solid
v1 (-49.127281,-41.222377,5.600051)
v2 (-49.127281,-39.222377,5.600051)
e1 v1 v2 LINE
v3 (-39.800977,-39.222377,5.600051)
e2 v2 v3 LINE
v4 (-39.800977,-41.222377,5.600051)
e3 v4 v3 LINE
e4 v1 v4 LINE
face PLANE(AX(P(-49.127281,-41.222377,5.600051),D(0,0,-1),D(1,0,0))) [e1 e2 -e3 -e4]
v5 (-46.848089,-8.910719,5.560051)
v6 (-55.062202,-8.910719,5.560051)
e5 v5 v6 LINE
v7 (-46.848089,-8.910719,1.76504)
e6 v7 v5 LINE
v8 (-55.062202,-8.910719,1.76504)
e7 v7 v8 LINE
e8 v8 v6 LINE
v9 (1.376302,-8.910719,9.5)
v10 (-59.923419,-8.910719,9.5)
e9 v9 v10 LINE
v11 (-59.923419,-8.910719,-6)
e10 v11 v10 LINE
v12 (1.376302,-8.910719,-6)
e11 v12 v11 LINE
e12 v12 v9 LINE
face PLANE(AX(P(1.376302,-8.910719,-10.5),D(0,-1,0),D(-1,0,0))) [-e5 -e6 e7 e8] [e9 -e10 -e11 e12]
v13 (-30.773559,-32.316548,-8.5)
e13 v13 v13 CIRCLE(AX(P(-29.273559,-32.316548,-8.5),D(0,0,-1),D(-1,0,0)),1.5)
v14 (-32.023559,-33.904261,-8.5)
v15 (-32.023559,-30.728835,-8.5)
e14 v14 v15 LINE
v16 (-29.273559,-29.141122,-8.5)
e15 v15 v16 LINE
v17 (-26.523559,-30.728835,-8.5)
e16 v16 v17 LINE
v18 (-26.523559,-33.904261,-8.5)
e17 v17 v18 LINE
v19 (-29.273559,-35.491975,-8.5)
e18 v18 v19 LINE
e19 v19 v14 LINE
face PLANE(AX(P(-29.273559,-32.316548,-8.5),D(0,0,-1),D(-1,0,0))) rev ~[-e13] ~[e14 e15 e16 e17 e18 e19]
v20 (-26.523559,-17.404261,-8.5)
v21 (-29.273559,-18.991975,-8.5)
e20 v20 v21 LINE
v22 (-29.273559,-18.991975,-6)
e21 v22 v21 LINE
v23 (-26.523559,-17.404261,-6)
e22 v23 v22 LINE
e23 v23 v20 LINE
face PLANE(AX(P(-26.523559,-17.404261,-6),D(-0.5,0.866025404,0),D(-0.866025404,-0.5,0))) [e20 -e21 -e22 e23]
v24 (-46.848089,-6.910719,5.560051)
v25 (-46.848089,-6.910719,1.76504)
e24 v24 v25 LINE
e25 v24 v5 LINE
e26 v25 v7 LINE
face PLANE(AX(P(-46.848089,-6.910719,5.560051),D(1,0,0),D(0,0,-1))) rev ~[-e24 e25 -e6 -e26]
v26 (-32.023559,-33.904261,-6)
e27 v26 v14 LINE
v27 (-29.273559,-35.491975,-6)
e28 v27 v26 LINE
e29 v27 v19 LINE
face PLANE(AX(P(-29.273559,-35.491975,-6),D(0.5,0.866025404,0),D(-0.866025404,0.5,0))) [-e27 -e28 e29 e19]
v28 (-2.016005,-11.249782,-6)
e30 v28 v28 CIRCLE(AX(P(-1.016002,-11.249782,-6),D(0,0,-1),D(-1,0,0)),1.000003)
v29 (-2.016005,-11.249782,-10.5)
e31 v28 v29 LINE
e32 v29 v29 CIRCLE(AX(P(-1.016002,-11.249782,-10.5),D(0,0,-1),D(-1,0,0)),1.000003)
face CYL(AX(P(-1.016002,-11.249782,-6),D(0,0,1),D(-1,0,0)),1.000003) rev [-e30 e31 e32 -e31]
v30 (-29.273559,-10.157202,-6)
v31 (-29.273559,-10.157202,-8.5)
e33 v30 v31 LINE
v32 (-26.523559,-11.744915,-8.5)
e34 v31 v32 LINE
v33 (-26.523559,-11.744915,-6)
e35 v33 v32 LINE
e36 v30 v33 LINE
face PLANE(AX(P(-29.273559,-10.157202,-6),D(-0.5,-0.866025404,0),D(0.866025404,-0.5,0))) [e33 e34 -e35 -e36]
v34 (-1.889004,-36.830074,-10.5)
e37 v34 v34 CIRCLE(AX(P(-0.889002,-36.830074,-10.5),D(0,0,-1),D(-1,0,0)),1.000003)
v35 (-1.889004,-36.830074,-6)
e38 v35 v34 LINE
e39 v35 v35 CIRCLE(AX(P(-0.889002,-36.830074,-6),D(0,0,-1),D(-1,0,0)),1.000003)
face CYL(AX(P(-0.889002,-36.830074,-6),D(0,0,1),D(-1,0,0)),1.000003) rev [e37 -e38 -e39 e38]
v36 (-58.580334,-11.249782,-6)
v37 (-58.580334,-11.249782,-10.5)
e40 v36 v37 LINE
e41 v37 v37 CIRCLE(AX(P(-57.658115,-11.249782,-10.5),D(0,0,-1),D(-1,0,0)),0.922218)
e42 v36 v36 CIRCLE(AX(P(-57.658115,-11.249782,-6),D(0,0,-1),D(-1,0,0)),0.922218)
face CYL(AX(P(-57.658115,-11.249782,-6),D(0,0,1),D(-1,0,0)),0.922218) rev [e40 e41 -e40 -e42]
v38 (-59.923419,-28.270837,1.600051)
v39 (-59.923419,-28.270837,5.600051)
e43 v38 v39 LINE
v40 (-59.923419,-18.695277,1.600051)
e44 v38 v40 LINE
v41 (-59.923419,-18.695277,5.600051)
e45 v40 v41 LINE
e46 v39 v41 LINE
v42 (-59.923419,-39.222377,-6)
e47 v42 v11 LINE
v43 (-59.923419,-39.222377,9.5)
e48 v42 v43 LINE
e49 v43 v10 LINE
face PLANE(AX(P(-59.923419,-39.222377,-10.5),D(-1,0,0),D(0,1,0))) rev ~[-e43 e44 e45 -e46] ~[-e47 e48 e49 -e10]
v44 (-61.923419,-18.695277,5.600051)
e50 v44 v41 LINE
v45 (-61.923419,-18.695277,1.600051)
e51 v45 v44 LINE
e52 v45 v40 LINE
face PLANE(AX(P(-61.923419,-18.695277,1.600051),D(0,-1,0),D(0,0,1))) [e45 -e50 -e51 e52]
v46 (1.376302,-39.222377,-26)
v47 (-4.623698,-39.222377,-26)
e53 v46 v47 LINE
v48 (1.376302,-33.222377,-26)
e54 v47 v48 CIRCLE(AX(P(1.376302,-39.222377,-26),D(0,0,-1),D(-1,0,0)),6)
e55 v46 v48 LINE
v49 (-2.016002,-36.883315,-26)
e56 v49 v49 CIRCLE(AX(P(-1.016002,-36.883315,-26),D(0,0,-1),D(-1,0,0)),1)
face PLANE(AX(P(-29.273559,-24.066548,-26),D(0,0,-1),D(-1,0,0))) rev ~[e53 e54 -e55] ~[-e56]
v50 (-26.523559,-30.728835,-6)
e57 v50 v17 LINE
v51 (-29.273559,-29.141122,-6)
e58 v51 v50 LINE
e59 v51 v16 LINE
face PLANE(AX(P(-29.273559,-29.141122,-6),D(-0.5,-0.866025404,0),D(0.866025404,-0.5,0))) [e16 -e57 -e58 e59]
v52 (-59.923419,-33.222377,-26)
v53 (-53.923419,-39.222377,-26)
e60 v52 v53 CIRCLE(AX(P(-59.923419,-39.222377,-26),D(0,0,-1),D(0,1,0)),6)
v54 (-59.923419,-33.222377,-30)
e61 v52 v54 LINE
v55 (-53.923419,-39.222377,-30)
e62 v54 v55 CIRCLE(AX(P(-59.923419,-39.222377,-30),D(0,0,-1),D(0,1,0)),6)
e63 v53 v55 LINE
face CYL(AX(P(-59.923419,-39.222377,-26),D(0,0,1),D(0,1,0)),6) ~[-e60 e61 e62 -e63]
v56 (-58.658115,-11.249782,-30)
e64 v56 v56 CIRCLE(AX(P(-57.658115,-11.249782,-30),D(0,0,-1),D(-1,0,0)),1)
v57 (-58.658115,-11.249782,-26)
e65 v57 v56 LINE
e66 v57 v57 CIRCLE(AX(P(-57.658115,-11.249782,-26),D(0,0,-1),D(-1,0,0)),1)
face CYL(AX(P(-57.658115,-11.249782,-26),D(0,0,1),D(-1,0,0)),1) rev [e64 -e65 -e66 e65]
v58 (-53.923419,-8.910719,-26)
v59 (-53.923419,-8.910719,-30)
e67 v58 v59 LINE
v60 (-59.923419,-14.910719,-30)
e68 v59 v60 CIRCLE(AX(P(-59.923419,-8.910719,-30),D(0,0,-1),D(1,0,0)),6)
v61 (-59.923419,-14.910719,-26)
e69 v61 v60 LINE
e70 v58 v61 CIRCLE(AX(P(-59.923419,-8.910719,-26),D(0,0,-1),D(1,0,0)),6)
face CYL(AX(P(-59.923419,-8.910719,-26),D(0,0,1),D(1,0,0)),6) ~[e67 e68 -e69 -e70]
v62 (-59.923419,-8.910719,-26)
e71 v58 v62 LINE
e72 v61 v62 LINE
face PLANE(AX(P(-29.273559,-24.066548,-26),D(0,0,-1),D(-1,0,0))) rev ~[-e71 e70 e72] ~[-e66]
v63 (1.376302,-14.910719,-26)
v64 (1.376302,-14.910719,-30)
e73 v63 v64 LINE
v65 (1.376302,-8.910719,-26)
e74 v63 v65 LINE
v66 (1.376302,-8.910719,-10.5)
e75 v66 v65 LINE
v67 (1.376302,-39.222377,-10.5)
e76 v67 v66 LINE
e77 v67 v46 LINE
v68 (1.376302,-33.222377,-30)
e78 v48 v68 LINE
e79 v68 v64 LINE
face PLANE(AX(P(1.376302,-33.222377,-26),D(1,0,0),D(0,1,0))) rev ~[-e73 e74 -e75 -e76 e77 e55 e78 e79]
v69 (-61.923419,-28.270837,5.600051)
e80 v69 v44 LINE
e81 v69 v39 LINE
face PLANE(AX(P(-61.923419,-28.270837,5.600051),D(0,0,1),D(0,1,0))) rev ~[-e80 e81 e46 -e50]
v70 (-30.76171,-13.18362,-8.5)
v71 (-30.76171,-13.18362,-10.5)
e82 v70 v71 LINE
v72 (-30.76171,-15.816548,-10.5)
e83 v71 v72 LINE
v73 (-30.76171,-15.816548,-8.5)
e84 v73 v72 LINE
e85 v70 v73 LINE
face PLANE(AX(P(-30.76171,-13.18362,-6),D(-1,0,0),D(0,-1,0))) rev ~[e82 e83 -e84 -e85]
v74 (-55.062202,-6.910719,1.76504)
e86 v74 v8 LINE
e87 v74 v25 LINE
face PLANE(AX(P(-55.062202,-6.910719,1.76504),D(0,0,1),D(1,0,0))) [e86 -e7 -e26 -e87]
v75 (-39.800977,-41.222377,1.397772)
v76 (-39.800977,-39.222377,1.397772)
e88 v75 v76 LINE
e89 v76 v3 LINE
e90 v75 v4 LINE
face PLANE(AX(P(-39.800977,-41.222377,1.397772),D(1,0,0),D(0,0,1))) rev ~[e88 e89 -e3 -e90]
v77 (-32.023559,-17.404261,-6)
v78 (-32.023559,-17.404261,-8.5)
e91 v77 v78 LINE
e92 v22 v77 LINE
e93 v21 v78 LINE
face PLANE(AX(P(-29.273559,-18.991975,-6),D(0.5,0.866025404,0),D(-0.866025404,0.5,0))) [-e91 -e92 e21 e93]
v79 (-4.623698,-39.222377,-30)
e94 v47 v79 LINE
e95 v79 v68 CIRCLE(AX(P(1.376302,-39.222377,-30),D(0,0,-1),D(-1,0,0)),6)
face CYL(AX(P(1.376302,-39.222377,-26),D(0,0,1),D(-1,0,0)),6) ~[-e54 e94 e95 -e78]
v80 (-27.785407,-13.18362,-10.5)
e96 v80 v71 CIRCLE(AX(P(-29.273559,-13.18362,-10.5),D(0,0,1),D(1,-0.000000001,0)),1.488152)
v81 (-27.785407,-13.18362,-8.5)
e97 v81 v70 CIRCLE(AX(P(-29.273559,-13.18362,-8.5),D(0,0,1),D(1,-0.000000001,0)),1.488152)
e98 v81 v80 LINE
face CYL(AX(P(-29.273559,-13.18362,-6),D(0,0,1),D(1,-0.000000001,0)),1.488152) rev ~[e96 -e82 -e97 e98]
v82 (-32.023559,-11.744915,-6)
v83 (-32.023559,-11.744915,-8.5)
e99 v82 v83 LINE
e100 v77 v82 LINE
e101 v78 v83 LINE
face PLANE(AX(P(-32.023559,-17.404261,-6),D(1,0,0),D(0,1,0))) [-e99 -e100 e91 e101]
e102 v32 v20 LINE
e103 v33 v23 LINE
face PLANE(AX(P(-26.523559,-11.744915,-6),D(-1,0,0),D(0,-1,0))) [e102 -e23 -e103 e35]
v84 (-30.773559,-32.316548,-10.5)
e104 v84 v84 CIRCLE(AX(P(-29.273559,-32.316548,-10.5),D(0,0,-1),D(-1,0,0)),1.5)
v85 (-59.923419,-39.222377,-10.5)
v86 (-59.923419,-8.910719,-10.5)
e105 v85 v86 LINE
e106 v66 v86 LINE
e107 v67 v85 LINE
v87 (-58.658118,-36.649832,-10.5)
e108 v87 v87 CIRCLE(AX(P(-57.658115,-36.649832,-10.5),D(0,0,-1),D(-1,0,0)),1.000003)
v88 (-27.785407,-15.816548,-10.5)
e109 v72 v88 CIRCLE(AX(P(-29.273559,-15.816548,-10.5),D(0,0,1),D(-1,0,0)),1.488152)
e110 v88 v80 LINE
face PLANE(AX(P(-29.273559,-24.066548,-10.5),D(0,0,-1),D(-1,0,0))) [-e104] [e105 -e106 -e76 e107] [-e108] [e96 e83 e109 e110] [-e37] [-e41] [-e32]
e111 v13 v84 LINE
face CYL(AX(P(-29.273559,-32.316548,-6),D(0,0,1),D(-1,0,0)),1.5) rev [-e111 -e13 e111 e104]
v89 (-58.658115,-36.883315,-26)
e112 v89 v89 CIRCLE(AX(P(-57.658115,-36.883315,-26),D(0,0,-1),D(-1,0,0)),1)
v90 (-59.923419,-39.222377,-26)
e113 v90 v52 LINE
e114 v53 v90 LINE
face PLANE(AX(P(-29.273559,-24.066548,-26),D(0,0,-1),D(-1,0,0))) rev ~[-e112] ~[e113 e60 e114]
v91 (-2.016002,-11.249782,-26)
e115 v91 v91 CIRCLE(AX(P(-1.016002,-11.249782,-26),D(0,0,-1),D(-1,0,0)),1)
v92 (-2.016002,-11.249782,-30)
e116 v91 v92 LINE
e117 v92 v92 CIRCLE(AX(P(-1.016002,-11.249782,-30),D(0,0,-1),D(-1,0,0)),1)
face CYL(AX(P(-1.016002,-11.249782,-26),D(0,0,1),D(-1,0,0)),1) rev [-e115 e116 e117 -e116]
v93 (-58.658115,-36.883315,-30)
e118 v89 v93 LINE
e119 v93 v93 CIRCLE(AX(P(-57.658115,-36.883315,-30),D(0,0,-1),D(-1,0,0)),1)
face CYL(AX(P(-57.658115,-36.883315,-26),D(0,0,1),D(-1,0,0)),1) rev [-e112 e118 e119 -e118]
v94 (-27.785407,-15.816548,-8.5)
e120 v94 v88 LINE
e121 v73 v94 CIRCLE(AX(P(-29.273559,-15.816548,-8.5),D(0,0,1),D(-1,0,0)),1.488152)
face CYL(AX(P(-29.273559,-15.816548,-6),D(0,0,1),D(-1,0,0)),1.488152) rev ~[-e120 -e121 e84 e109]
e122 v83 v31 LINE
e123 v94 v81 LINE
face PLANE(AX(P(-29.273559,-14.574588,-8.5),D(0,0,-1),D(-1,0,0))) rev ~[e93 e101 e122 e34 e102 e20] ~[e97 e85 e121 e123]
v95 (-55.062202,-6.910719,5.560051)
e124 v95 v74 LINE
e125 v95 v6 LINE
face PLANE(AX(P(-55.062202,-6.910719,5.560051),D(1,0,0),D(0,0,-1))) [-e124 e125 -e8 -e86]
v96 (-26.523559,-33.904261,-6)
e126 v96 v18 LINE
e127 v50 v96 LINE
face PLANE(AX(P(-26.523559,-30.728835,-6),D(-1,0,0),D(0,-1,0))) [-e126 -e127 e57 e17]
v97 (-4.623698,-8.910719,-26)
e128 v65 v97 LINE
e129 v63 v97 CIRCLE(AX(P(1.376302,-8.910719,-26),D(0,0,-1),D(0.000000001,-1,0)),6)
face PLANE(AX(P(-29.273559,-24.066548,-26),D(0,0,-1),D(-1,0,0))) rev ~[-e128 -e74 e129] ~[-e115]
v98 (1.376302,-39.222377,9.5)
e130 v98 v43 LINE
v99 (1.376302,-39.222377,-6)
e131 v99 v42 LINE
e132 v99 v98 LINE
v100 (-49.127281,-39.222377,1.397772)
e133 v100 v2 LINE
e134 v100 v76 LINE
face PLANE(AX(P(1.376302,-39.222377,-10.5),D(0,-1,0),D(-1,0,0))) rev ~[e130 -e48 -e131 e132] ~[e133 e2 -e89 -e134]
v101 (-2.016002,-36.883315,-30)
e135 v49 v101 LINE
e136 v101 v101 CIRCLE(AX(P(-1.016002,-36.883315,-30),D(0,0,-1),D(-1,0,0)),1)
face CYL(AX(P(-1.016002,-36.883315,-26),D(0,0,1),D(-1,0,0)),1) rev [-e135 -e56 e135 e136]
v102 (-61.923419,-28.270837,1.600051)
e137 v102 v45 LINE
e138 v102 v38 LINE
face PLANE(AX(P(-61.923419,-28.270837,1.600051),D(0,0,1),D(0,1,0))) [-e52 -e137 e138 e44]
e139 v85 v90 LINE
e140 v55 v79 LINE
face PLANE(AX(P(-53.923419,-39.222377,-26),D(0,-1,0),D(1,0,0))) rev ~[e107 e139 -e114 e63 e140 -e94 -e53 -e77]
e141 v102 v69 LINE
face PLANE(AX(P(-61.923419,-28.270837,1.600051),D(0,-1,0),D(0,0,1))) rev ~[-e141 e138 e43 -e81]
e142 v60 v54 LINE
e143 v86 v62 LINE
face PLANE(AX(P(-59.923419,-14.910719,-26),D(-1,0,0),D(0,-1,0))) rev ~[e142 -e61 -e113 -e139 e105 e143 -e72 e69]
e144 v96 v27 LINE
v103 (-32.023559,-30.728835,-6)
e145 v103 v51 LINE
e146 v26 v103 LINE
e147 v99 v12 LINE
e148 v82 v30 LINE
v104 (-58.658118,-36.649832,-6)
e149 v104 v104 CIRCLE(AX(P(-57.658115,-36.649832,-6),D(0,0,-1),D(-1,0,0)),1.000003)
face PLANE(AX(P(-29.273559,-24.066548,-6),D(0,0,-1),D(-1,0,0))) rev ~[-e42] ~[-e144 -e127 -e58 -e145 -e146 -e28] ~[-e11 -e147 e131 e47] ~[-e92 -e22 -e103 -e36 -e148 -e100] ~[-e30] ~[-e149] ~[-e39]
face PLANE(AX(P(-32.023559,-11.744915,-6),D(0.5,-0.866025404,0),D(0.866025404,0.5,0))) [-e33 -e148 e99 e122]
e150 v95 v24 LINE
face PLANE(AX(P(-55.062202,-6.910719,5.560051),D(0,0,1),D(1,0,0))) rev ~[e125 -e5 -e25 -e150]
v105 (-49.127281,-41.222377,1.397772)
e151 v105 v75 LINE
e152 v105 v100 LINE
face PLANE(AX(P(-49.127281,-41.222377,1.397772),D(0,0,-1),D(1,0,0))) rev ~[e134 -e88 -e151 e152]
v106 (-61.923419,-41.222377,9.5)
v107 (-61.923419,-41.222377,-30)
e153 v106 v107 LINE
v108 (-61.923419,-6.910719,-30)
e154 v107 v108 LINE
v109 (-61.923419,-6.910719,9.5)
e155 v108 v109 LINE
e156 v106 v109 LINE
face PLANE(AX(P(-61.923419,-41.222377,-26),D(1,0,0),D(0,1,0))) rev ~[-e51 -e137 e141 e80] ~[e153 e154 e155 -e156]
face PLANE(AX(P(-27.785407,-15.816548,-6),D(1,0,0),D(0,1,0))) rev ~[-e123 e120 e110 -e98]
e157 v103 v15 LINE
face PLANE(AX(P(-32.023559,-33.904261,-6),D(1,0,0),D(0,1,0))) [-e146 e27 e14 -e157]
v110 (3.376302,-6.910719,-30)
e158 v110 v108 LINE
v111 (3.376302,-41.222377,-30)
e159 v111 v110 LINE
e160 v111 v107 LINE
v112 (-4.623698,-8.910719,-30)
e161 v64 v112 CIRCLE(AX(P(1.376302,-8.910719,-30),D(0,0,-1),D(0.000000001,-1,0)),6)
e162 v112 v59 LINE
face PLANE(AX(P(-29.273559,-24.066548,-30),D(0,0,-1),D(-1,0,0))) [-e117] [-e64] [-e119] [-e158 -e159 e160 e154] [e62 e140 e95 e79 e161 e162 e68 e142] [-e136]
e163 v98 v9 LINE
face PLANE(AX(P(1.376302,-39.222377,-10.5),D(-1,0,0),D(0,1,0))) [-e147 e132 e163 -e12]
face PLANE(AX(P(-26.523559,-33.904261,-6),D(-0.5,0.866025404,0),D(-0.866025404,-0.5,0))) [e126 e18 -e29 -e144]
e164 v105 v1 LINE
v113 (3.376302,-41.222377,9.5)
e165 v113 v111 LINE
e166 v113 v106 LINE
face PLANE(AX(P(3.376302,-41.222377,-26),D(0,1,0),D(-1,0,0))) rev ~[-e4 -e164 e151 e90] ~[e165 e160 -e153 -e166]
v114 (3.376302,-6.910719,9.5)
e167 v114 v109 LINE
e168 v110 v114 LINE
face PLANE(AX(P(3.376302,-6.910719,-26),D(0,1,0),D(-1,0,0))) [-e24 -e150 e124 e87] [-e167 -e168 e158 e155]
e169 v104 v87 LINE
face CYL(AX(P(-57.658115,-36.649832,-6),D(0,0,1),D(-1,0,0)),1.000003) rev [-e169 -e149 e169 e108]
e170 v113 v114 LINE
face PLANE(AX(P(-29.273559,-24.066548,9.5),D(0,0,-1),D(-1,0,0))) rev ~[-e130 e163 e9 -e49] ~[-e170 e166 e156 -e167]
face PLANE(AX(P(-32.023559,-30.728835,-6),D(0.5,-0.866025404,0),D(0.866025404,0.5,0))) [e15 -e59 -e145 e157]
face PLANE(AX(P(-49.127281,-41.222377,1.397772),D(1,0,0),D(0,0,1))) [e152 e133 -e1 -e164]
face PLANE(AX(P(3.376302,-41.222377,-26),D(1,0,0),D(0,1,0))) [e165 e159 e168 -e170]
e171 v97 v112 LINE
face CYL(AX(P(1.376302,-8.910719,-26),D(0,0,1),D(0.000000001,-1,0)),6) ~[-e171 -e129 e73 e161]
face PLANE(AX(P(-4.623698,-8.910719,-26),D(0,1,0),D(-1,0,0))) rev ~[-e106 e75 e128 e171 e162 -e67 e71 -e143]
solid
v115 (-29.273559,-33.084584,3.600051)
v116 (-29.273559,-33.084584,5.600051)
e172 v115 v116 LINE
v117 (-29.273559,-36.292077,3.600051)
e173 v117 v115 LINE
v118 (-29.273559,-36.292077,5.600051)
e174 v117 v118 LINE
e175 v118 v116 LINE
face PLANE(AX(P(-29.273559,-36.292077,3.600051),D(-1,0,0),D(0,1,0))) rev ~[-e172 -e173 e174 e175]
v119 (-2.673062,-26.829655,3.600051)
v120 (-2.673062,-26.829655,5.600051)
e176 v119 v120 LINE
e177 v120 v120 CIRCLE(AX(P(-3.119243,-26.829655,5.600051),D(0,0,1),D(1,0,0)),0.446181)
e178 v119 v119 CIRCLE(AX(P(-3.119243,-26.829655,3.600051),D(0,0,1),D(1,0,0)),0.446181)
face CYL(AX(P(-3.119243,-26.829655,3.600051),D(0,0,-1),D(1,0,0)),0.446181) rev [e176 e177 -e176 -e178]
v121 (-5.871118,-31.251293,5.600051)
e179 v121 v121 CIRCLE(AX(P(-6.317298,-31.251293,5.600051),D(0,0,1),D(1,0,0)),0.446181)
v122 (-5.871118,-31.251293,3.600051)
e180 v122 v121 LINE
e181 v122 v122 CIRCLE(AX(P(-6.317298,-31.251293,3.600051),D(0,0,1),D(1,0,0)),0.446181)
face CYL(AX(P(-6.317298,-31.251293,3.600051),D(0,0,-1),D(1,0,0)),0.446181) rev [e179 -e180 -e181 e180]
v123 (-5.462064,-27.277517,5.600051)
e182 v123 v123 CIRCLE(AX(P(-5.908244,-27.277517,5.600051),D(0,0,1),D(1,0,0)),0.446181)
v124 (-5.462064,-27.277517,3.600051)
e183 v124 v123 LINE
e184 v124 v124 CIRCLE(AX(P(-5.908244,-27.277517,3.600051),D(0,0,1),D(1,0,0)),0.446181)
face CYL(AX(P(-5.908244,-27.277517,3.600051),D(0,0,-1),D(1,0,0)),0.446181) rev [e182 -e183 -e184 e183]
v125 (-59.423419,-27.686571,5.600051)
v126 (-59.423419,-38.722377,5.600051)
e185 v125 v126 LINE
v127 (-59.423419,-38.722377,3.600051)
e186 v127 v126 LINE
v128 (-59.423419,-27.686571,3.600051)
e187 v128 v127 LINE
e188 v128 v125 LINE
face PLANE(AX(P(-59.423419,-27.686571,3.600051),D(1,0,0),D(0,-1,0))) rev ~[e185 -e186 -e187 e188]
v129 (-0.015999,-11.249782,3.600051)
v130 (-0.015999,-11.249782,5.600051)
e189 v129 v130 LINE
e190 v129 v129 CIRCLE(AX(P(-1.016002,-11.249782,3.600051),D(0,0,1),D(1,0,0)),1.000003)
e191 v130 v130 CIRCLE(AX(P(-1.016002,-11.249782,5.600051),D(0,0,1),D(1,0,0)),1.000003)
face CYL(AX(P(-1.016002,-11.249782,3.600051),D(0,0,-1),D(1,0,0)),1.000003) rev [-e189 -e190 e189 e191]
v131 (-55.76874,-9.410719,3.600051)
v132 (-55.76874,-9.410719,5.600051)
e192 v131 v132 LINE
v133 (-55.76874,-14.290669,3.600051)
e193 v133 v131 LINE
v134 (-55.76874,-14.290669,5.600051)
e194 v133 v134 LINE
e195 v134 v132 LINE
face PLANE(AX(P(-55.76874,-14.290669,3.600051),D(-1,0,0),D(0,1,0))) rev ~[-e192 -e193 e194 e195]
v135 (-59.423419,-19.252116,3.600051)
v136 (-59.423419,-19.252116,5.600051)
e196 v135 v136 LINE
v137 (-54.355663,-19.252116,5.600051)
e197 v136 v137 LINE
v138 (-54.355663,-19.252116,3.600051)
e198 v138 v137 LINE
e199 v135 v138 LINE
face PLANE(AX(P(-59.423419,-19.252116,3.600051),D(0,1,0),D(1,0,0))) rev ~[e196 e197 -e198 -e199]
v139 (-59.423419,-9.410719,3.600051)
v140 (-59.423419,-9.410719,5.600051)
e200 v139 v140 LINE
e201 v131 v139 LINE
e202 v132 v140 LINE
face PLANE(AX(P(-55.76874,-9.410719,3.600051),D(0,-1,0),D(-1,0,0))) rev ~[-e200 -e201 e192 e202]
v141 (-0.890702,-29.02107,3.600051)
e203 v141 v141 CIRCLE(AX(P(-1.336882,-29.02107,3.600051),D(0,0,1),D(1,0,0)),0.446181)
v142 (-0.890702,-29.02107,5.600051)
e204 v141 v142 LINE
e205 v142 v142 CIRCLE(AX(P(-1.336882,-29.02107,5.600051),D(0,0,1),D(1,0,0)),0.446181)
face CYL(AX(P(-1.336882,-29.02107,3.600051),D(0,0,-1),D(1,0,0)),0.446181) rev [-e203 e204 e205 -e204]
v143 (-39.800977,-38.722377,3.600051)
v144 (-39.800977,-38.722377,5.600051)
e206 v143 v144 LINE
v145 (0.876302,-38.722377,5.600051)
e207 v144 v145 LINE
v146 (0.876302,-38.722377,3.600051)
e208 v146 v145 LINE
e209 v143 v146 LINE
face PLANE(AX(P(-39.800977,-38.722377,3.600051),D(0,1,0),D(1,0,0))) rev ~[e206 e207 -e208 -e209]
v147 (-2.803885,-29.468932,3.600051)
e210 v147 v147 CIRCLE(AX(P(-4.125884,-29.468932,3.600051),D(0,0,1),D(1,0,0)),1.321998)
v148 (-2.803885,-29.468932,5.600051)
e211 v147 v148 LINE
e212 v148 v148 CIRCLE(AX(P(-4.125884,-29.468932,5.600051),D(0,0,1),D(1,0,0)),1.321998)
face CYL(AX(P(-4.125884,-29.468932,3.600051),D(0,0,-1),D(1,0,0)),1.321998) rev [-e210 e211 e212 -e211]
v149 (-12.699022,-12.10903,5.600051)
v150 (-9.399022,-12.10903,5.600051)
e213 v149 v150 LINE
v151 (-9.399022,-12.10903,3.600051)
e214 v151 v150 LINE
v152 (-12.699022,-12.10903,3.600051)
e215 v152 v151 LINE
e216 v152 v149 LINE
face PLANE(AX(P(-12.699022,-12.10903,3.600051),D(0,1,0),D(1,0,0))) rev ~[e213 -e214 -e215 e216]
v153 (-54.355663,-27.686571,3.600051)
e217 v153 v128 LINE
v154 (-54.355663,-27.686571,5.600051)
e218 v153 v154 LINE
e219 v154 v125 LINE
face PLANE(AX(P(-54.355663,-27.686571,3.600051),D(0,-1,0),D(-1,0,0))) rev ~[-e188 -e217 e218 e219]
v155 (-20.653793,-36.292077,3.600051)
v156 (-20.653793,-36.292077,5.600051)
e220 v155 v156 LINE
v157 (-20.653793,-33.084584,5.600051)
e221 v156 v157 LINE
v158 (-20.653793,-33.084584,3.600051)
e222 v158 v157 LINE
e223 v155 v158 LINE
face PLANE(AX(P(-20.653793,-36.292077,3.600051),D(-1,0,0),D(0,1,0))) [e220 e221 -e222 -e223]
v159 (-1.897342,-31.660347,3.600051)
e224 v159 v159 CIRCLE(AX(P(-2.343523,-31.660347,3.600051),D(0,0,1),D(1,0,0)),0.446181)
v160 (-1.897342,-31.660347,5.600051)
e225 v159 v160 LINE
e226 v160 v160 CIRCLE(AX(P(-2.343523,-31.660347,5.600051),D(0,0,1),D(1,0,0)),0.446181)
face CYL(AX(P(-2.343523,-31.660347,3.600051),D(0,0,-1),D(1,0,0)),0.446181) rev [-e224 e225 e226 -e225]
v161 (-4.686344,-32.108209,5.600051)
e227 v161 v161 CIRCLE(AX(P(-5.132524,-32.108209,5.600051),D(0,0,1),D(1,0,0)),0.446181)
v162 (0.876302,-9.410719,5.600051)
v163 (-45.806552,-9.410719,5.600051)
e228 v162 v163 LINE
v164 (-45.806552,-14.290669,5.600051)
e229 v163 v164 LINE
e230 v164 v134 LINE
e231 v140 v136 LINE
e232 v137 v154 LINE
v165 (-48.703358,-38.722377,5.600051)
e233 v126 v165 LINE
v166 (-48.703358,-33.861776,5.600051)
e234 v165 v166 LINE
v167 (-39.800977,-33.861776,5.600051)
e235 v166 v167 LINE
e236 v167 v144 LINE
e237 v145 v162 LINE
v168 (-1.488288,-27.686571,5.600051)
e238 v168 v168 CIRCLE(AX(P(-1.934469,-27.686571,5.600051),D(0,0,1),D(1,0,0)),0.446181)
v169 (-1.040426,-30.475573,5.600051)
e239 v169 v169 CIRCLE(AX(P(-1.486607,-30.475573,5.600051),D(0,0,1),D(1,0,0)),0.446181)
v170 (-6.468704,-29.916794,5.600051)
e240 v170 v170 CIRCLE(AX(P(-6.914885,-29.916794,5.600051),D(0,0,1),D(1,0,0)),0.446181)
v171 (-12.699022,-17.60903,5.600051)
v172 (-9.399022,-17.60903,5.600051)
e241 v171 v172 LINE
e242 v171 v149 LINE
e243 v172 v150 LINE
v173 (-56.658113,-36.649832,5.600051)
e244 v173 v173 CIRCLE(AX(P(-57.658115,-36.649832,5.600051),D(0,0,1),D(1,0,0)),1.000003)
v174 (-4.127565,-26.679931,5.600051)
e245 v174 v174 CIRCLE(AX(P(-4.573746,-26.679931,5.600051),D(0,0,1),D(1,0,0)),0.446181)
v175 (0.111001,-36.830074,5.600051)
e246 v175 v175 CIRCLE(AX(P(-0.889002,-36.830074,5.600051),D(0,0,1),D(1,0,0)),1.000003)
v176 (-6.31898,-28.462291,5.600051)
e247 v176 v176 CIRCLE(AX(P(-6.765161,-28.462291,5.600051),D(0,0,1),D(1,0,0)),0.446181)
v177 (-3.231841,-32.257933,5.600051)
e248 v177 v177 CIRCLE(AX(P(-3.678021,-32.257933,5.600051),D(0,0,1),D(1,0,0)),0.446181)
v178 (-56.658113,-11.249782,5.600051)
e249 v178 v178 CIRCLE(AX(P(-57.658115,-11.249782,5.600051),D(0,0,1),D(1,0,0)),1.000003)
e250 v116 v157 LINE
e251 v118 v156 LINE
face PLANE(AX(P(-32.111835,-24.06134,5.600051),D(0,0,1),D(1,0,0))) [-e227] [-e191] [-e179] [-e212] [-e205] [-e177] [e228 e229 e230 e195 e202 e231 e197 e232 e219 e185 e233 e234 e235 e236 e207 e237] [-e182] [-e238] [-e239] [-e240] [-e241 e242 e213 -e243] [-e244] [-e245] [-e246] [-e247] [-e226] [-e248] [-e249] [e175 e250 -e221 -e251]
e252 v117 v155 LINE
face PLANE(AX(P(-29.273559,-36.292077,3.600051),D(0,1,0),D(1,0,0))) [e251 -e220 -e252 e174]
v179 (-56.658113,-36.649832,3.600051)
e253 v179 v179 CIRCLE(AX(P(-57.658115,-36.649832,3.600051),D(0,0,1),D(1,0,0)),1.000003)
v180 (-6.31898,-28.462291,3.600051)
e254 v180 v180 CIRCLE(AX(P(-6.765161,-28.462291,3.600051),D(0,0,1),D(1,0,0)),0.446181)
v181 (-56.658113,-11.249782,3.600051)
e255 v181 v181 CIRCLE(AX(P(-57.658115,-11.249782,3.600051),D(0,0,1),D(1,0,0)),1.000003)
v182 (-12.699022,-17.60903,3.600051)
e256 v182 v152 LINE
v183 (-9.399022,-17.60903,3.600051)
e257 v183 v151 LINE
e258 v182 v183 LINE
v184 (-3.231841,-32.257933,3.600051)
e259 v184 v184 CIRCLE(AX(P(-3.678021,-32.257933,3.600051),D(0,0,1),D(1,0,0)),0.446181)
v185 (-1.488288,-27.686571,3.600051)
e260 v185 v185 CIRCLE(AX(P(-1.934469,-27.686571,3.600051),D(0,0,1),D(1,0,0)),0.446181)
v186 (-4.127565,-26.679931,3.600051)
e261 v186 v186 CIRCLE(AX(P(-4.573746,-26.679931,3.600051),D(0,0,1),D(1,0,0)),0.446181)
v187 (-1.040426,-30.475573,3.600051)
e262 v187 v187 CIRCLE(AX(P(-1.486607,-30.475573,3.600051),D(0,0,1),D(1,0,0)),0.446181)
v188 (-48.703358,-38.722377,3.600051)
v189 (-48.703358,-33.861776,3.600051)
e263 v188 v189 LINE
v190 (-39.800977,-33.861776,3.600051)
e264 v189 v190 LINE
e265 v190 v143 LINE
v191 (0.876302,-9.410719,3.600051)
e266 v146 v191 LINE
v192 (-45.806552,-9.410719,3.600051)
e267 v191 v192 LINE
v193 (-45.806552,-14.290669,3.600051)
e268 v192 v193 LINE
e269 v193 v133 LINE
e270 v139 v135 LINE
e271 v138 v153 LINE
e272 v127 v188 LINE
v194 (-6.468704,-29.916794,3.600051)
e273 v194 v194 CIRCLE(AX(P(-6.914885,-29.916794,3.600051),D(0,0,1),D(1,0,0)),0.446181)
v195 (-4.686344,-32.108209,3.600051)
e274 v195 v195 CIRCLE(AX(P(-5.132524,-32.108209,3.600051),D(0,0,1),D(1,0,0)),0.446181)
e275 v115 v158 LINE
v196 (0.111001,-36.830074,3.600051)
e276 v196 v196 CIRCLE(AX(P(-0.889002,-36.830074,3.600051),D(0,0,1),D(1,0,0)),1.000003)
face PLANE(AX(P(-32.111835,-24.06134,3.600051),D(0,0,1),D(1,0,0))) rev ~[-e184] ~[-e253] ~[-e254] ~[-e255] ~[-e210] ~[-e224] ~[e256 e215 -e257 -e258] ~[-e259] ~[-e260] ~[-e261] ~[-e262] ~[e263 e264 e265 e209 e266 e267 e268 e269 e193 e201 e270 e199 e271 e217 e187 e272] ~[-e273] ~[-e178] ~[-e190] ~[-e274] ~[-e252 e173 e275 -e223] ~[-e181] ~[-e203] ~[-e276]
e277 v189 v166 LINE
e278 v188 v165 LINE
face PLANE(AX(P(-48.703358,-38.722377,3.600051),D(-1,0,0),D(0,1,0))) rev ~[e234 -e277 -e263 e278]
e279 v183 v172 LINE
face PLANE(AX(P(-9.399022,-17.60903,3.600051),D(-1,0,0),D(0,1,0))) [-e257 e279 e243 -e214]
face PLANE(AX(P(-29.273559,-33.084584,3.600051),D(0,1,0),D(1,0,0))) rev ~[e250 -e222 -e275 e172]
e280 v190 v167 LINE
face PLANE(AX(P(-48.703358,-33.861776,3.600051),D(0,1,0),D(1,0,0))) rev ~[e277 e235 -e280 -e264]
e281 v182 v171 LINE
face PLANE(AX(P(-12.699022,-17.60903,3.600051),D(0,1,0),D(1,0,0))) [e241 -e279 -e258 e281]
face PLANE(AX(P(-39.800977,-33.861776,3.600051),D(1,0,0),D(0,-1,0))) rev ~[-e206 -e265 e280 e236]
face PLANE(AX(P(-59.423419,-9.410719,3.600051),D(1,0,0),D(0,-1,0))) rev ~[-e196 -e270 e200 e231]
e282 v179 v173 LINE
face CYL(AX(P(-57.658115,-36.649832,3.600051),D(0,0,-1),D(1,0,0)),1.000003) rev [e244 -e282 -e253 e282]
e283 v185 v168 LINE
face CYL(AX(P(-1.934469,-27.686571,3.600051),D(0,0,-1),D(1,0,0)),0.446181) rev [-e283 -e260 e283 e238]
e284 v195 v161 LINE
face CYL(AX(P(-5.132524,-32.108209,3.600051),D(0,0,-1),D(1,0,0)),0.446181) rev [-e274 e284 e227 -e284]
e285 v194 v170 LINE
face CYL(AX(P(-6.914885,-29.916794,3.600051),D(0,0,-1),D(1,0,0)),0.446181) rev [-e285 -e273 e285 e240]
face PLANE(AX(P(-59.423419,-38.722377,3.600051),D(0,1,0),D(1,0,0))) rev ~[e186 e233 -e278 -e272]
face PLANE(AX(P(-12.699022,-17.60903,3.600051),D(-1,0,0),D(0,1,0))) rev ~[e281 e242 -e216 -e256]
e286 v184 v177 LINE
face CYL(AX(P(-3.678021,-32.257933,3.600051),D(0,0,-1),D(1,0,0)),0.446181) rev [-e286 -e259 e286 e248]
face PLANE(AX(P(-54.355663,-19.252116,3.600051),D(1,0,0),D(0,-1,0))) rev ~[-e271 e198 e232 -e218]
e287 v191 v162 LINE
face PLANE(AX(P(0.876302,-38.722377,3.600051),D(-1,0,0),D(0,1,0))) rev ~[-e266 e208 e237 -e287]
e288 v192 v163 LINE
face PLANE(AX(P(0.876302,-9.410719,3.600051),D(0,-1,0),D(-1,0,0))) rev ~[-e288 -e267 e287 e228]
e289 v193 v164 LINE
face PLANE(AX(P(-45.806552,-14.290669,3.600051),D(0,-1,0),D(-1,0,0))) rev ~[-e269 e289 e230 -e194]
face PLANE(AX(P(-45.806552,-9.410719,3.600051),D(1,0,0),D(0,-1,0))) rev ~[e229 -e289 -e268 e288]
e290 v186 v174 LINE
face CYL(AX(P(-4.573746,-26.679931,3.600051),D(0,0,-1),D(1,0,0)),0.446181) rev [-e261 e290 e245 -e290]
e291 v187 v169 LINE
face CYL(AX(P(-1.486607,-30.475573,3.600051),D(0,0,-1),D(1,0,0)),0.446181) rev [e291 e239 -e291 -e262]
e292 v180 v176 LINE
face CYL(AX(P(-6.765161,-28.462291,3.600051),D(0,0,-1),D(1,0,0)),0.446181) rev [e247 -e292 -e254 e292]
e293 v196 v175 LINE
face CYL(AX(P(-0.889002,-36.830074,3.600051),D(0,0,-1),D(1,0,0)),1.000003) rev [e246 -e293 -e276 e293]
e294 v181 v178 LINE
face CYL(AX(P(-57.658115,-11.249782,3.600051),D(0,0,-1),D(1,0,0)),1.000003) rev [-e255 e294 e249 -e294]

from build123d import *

# Parameters (mm, degrees)
SKETCH_1_R           = 1.00000254
SKETCH_1_R_2         = 1.321998217
SKETCH_1_R_3         = 0.44618067
SKETCH_1_W           = 8.619765629
SKETCH_1_H           = 3.207492673
SKETCH_1_W_2         = 3.29999996
SKETCH_1_H_2         = 5.499999934
EXTRUDE_1_DEPTH      = 2
SKETCH_2_W           = 65.2997206
SKETCH_2_H           = 34.311658624
SKETCH_2_R           = 1.00000254
SKETCH_2_R_2         = 0.922218434
SKETCH_2_R_3         = 1.5
EXTRUDE_2_DEPTH      = 4.5
SKETCH_3_R           = 1.5
CUT_EXTRUDE_2_DEPTH  = 2.5
SKETCH_5_W           = 65.2997206
SKETCH_5_H           = 34.311658624
SKETCH_5_W_2         = 61.2997206
SKETCH_5_H_2         = 30.311658624
EXTRUDE_3_DEPTH      = 15.5
EXTRUDE_3_DEPTH_BACK = 20
SKETCH_7_W           = 8.214112973
SKETCH_7_H           = 3.795011114
CUT_EXTRUDE_4_DEPTH  = 3
SKETCH_8_W           = 4
SKETCH_8_H           = 9.575559499
CUT_EXTRUDE_5_DEPTH  = 3
SKETCH_9_W           = 9.326303795
SKETCH_9_H           = 4.202278939
CUT_EXTRUDE_6_DEPTH  = 3
SKETCH_10_W          = 65.2997206
SKETCH_10_H          = 34.311658624
SKETCH_10_R          = 1
EXTRUDE_4_DEPTH      = 4


with BuildPart() as part:
    # 草图1 → 凸台-拉伸1 (new body)
    with BuildSketch(Plane.XY.offset(3.6000508)):
        Polygon((-48.703358121, -33.861776064), (-39.800977226, -33.861776064), (-39.800977226, -38.722377445), (0.876301753, -38.722377445), (0.876301753, -9.410718821), (-45.806551639, -9.410718821), (-45.806551639, -14.290668856), (-55.768739785, -14.290668856), (-55.768739785, -9.410718821), (-59.423418847, -9.410718821), (-59.423418847, -19.252115931), (-54.355663452, -19.252115931), (-54.355663452, -27.686571242), (-59.423418847, -27.686571242), (-59.423418847, -38.722377445), (-48.703358121, -38.722377445), align=None)
        with Locations((-57.658115316, -36.64983236)):
            Circle(SKETCH_1_R, mode=Mode.SUBTRACT)
        with Locations((-57.658115316, -11.24978156)):
            Circle(SKETCH_1_R, mode=Mode.SUBTRACT)
        with Locations((-1.016002032, -11.24978156)):
            Circle(SKETCH_1_R, mode=Mode.SUBTRACT)
        with Locations((-0.889001778, -36.83007366)):
            Circle(SKETCH_1_R, mode=Mode.SUBTRACT)
        with Locations((-4.125883596, -29.468931921)):
            Circle(SKETCH_1_R_2, mode=Mode.SUBTRACT)
        with Locations((-5.908244275, -27.277517049)):
            Circle(SKETCH_1_R_3, mode=Mode.SUBTRACT)
        with Locations((-4.573745786, -26.679930632)):
            Circle(SKETCH_1_R_3, mode=Mode.SUBTRACT)
        with Locations((-3.119242986, -26.829654858)):
            Circle(SKETCH_1_R_3, mode=Mode.SUBTRACT)
        with Locations((-1.934468724, -27.686571242)):
            Circle(SKETCH_1_R_3, mode=Mode.SUBTRACT)
        with Locations((-1.336882307, -29.021069731)):
            Circle(SKETCH_1_R_3, mode=Mode.SUBTRACT)
        with Locations((-1.486606533, -30.475572531)):
            Circle(SKETCH_1_R_3, mode=Mode.SUBTRACT)
        with Locations((-2.343522917, -31.660346793)):
            Circle(SKETCH_1_R_3, mode=Mode.SUBTRACT)
        with Locations((-3.678021405, -32.25793321)):
            Circle(SKETCH_1_R_3, mode=Mode.SUBTRACT)
        with Locations((-5.132524206, -32.108208984)):
            Circle(SKETCH_1_R_3, mode=Mode.SUBTRACT)
        with Locations((-6.317298468, -31.2512926)):
            Circle(SKETCH_1_R_3, mode=Mode.SUBTRACT)
        with Locations((-6.914884885, -29.916794112)):
            Circle(SKETCH_1_R_3, mode=Mode.SUBTRACT)
        with Locations((-6.765160658, -28.462291311)):
            Circle(SKETCH_1_R_3, mode=Mode.SUBTRACT)
        with Locations((-24.963675733, -34.688330417)):
            Rectangle(SKETCH_1_W, SKETCH_1_H, mode=Mode.SUBTRACT)
        with Locations((-11.049022098, -14.859029718)):
            Rectangle(SKETCH_1_W_2, SKETCH_1_H_2, mode=Mode.SUBTRACT)
    extrude(amount=EXTRUDE_1_DEPTH)


with BuildPart() as body_2:
    # 草图2 → 凸台-拉伸2 (new body)
    with BuildSketch(Plane(origin=(0, 0, -6), x_dir=(-1, 0, 0), z_dir=(0, 0, -1))):
        with Locations((29.273558547, -24.066548133)):
            Rectangle(SKETCH_2_W, SKETCH_2_H)
        with Locations((1.016002032, -11.24978156)):
            Circle(SKETCH_2_R, mode=Mode.SUBTRACT)
        with Locations((0.889001778, -36.83007366)):
            Circle(SKETCH_2_R, mode=Mode.SUBTRACT)
        with Locations((57.658115316, -36.64983236)):
            Circle(SKETCH_2_R, mode=Mode.SUBTRACT)
        with Locations((57.658115316, -11.24978156)):
            Circle(SKETCH_2_R_2, mode=Mode.SUBTRACT)
        with Locations((29.273558547, -32.316548133)):
            Circle(SKETCH_2_R_3, mode=Mode.SUBTRACT)
        with BuildLine():
            Line((27.785407033, -15.816548133), (27.785407033, -13.183619987))
            ThreePointArc((27.785407033, -13.183619987), (29.273558547, -11.695468472), (30.761710061, -13.183619987))
            Line((30.761710061, -13.183619987), (30.761710061, -15.816548133))
            ThreePointArc((30.761710061, -15.816548133), (29.273558547, -17.304699647), (27.785407033, -15.816548133))
        make_face(mode=Mode.SUBTRACT)
    extrude(amount=EXTRUDE_2_DEPTH)

    # 草图3 → 切除-拉伸2 (cut)
    with BuildSketch(Plane(origin=(0, 0, -6), x_dir=(-1, 0, 0), z_dir=(0, 0, -1))):
        Polygon((29.273558547, -18.991974614), (32.023558547, -17.404261373), (32.023558547, -14.920341582), (32.023558547, -14.228834893), (32.023558547, -11.744915102), (29.273558547, -10.157201862), (26.523558547, -11.744915102), (26.523558547, -14.228834893), (26.523558547, -14.920341582), (26.523558547, -17.404261373), align=None)
        with BuildLine():
            ThreePointArc((30.761710061, -15.816548133), (29.273558547, -17.304699647), (27.785407033, -15.816548133))
            Line((27.785407033, -15.816548133), (27.785407033, -13.183619987))
            ThreePointArc((27.785407033, -13.183619987), (29.273558547, -11.695468472), (30.761710061, -13.183619987))
            Line((30.761710061, -13.183619987), (30.761710061, -15.816548133))
        make_face(mode=Mode.SUBTRACT)
        Polygon((26.523558547, -30.728834893), (26.523558547, -33.904261373), (29.273558547, -35.491974614), (32.023558547, -33.904261373), (32.023558547, -30.728834893), (29.273558547, -29.141121653), align=None)
        with Locations((29.273558547, -32.316548133)):
            Circle(SKETCH_3_R, mode=Mode.SUBTRACT)
    extrude(amount=CUT_EXTRUDE_2_DEPTH, mode=Mode.SUBTRACT)

    # 草图5 → 凸台-拉伸3 (add, two sides)
    with BuildSketch(Plane(origin=(0, 0, -10.5), x_dir=(-1, 0, 0), z_dir=(0, 0, -1))) as extrude_3_sk:
        with Locations((29.273558547, -24.066548133)):
            Rectangle(SKETCH_5_W, SKETCH_5_H)
        with Locations((29.273558547, -24.066548133)):
            Rectangle(SKETCH_5_W_2, SKETCH_5_H_2, mode=Mode.SUBTRACT)
    extrude(amount=EXTRUDE_3_DEPTH)
    extrude(extrude_3_sk.sketch, amount=-EXTRUDE_3_DEPTH_BACK)

    # 草图7 → 切除-拉伸4 (cut)
    with BuildSketch(Plane(origin=(0, -6.910718821, 0), x_dir=(1, 0, 0), z_dir=(0, 1, 0))):
        with Locations((-50.955145133, -3.662545243)):
            Rectangle(SKETCH_7_W, SKETCH_7_H)
    extrude(amount=-CUT_EXTRUDE_4_DEPTH, mode=Mode.SUBTRACT)

    # 草图8 → 切除-拉伸5 (cut)
    with BuildSketch(Plane.ZY.offset(61.923418847)):
        with Locations((3.6000508, -23.483057223)):
            Rectangle(SKETCH_8_W, SKETCH_8_H)
    extrude(amount=-CUT_EXTRUDE_5_DEPTH, mode=Mode.SUBTRACT)

    # 草图9 → 切除-拉伸6 (cut)
    with BuildSketch(Plane.XZ.offset(41.222377445)):
        with Locations((-44.464129124, 3.49891133)):
            Rectangle(SKETCH_9_W, SKETCH_9_H)
    extrude(amount=-CUT_EXTRUDE_6_DEPTH, mode=Mode.SUBTRACT)

    # 草图10 → 凸台-拉伸4 (add)
    with BuildSketch(Plane(origin=(0, 0, -26), x_dir=(-1, 0, 0), z_dir=(0, 0, -1))):
        with Locations((29.273558547, -24.066548133)):
            Rectangle(SKETCH_10_W, SKETCH_10_H)
        Polygon((-1.376301753, -14.910718821), (-1.376301753, -8.910718821), (4.623698247, -8.910718821), (53.923418847, -8.910718821), (59.923418847, -8.910718821), (59.923418847, -14.910718821), (59.923418847, -33.222377445), (59.923418847, -39.222377445), (53.923418847, -39.222377445), (4.623698247, -39.222377445), (-1.376301753, -39.222377445), (-1.376301753, -33.222377445), align=None, mode=Mode.SUBTRACT)
        with BuildLine():
            Line((4.623698247, -8.910718821), (-1.376301753, -8.910718821))
            Line((-1.376301753, -8.910718821), (-1.376301753, -14.910718821))
            ThreePointArc((-1.376301753, -14.910718821), (2.866338935, -13.153359509), (4.623698247, -8.910718821))
        make_face()
        with Locations((1.016002032, -11.24978156)):
            Circle(SKETCH_10_R, mode=Mode.SUBTRACT)
        with BuildLine():
            ThreePointArc((4.623698247, -39.222377445), (2.866338935, -34.979736758), (-1.376301753, -33.222377445))
            Line((-1.376301753, -33.222377445), (-1.376301753, -39.222377445))
            Line((-1.376301753, -39.222377445), (4.623698247, -39.222377445))
        make_face()
        with Locations((1.016002032, -36.883314707)):
            Circle(SKETCH_10_R, mode=Mode.SUBTRACT)
        with BuildLine():
            Line((59.923418847, -39.222377445), (59.923418847, -33.222377445))
            ThreePointArc((59.923418847, -33.222377445), (55.68077816, -34.979736758), (53.923418847, -39.222377445))
            Line((53.923418847, -39.222377445), (59.923418847, -39.222377445))
        make_face()
        with Locations((57.658115316, -36.883314707)):
            Circle(SKETCH_10_R, mode=Mode.SUBTRACT)
        with BuildLine():
            Line((59.923418847, -8.910718821), (53.923418847, -8.910718821))
            ThreePointArc((53.923418847, -8.910718821), (55.68077816, -13.153359509), (59.923418847, -14.910718821))
            Line((59.923418847, -14.910718821), (59.923418847, -8.910718821))
        make_face()
        with Locations((57.658115316, -11.24978156)):
            Circle(SKETCH_10_R, mode=Mode.SUBTRACT)
    extrude(amount=EXTRUDE_4_DEPTH)


solid = Compound([part.part, body_2.part])
